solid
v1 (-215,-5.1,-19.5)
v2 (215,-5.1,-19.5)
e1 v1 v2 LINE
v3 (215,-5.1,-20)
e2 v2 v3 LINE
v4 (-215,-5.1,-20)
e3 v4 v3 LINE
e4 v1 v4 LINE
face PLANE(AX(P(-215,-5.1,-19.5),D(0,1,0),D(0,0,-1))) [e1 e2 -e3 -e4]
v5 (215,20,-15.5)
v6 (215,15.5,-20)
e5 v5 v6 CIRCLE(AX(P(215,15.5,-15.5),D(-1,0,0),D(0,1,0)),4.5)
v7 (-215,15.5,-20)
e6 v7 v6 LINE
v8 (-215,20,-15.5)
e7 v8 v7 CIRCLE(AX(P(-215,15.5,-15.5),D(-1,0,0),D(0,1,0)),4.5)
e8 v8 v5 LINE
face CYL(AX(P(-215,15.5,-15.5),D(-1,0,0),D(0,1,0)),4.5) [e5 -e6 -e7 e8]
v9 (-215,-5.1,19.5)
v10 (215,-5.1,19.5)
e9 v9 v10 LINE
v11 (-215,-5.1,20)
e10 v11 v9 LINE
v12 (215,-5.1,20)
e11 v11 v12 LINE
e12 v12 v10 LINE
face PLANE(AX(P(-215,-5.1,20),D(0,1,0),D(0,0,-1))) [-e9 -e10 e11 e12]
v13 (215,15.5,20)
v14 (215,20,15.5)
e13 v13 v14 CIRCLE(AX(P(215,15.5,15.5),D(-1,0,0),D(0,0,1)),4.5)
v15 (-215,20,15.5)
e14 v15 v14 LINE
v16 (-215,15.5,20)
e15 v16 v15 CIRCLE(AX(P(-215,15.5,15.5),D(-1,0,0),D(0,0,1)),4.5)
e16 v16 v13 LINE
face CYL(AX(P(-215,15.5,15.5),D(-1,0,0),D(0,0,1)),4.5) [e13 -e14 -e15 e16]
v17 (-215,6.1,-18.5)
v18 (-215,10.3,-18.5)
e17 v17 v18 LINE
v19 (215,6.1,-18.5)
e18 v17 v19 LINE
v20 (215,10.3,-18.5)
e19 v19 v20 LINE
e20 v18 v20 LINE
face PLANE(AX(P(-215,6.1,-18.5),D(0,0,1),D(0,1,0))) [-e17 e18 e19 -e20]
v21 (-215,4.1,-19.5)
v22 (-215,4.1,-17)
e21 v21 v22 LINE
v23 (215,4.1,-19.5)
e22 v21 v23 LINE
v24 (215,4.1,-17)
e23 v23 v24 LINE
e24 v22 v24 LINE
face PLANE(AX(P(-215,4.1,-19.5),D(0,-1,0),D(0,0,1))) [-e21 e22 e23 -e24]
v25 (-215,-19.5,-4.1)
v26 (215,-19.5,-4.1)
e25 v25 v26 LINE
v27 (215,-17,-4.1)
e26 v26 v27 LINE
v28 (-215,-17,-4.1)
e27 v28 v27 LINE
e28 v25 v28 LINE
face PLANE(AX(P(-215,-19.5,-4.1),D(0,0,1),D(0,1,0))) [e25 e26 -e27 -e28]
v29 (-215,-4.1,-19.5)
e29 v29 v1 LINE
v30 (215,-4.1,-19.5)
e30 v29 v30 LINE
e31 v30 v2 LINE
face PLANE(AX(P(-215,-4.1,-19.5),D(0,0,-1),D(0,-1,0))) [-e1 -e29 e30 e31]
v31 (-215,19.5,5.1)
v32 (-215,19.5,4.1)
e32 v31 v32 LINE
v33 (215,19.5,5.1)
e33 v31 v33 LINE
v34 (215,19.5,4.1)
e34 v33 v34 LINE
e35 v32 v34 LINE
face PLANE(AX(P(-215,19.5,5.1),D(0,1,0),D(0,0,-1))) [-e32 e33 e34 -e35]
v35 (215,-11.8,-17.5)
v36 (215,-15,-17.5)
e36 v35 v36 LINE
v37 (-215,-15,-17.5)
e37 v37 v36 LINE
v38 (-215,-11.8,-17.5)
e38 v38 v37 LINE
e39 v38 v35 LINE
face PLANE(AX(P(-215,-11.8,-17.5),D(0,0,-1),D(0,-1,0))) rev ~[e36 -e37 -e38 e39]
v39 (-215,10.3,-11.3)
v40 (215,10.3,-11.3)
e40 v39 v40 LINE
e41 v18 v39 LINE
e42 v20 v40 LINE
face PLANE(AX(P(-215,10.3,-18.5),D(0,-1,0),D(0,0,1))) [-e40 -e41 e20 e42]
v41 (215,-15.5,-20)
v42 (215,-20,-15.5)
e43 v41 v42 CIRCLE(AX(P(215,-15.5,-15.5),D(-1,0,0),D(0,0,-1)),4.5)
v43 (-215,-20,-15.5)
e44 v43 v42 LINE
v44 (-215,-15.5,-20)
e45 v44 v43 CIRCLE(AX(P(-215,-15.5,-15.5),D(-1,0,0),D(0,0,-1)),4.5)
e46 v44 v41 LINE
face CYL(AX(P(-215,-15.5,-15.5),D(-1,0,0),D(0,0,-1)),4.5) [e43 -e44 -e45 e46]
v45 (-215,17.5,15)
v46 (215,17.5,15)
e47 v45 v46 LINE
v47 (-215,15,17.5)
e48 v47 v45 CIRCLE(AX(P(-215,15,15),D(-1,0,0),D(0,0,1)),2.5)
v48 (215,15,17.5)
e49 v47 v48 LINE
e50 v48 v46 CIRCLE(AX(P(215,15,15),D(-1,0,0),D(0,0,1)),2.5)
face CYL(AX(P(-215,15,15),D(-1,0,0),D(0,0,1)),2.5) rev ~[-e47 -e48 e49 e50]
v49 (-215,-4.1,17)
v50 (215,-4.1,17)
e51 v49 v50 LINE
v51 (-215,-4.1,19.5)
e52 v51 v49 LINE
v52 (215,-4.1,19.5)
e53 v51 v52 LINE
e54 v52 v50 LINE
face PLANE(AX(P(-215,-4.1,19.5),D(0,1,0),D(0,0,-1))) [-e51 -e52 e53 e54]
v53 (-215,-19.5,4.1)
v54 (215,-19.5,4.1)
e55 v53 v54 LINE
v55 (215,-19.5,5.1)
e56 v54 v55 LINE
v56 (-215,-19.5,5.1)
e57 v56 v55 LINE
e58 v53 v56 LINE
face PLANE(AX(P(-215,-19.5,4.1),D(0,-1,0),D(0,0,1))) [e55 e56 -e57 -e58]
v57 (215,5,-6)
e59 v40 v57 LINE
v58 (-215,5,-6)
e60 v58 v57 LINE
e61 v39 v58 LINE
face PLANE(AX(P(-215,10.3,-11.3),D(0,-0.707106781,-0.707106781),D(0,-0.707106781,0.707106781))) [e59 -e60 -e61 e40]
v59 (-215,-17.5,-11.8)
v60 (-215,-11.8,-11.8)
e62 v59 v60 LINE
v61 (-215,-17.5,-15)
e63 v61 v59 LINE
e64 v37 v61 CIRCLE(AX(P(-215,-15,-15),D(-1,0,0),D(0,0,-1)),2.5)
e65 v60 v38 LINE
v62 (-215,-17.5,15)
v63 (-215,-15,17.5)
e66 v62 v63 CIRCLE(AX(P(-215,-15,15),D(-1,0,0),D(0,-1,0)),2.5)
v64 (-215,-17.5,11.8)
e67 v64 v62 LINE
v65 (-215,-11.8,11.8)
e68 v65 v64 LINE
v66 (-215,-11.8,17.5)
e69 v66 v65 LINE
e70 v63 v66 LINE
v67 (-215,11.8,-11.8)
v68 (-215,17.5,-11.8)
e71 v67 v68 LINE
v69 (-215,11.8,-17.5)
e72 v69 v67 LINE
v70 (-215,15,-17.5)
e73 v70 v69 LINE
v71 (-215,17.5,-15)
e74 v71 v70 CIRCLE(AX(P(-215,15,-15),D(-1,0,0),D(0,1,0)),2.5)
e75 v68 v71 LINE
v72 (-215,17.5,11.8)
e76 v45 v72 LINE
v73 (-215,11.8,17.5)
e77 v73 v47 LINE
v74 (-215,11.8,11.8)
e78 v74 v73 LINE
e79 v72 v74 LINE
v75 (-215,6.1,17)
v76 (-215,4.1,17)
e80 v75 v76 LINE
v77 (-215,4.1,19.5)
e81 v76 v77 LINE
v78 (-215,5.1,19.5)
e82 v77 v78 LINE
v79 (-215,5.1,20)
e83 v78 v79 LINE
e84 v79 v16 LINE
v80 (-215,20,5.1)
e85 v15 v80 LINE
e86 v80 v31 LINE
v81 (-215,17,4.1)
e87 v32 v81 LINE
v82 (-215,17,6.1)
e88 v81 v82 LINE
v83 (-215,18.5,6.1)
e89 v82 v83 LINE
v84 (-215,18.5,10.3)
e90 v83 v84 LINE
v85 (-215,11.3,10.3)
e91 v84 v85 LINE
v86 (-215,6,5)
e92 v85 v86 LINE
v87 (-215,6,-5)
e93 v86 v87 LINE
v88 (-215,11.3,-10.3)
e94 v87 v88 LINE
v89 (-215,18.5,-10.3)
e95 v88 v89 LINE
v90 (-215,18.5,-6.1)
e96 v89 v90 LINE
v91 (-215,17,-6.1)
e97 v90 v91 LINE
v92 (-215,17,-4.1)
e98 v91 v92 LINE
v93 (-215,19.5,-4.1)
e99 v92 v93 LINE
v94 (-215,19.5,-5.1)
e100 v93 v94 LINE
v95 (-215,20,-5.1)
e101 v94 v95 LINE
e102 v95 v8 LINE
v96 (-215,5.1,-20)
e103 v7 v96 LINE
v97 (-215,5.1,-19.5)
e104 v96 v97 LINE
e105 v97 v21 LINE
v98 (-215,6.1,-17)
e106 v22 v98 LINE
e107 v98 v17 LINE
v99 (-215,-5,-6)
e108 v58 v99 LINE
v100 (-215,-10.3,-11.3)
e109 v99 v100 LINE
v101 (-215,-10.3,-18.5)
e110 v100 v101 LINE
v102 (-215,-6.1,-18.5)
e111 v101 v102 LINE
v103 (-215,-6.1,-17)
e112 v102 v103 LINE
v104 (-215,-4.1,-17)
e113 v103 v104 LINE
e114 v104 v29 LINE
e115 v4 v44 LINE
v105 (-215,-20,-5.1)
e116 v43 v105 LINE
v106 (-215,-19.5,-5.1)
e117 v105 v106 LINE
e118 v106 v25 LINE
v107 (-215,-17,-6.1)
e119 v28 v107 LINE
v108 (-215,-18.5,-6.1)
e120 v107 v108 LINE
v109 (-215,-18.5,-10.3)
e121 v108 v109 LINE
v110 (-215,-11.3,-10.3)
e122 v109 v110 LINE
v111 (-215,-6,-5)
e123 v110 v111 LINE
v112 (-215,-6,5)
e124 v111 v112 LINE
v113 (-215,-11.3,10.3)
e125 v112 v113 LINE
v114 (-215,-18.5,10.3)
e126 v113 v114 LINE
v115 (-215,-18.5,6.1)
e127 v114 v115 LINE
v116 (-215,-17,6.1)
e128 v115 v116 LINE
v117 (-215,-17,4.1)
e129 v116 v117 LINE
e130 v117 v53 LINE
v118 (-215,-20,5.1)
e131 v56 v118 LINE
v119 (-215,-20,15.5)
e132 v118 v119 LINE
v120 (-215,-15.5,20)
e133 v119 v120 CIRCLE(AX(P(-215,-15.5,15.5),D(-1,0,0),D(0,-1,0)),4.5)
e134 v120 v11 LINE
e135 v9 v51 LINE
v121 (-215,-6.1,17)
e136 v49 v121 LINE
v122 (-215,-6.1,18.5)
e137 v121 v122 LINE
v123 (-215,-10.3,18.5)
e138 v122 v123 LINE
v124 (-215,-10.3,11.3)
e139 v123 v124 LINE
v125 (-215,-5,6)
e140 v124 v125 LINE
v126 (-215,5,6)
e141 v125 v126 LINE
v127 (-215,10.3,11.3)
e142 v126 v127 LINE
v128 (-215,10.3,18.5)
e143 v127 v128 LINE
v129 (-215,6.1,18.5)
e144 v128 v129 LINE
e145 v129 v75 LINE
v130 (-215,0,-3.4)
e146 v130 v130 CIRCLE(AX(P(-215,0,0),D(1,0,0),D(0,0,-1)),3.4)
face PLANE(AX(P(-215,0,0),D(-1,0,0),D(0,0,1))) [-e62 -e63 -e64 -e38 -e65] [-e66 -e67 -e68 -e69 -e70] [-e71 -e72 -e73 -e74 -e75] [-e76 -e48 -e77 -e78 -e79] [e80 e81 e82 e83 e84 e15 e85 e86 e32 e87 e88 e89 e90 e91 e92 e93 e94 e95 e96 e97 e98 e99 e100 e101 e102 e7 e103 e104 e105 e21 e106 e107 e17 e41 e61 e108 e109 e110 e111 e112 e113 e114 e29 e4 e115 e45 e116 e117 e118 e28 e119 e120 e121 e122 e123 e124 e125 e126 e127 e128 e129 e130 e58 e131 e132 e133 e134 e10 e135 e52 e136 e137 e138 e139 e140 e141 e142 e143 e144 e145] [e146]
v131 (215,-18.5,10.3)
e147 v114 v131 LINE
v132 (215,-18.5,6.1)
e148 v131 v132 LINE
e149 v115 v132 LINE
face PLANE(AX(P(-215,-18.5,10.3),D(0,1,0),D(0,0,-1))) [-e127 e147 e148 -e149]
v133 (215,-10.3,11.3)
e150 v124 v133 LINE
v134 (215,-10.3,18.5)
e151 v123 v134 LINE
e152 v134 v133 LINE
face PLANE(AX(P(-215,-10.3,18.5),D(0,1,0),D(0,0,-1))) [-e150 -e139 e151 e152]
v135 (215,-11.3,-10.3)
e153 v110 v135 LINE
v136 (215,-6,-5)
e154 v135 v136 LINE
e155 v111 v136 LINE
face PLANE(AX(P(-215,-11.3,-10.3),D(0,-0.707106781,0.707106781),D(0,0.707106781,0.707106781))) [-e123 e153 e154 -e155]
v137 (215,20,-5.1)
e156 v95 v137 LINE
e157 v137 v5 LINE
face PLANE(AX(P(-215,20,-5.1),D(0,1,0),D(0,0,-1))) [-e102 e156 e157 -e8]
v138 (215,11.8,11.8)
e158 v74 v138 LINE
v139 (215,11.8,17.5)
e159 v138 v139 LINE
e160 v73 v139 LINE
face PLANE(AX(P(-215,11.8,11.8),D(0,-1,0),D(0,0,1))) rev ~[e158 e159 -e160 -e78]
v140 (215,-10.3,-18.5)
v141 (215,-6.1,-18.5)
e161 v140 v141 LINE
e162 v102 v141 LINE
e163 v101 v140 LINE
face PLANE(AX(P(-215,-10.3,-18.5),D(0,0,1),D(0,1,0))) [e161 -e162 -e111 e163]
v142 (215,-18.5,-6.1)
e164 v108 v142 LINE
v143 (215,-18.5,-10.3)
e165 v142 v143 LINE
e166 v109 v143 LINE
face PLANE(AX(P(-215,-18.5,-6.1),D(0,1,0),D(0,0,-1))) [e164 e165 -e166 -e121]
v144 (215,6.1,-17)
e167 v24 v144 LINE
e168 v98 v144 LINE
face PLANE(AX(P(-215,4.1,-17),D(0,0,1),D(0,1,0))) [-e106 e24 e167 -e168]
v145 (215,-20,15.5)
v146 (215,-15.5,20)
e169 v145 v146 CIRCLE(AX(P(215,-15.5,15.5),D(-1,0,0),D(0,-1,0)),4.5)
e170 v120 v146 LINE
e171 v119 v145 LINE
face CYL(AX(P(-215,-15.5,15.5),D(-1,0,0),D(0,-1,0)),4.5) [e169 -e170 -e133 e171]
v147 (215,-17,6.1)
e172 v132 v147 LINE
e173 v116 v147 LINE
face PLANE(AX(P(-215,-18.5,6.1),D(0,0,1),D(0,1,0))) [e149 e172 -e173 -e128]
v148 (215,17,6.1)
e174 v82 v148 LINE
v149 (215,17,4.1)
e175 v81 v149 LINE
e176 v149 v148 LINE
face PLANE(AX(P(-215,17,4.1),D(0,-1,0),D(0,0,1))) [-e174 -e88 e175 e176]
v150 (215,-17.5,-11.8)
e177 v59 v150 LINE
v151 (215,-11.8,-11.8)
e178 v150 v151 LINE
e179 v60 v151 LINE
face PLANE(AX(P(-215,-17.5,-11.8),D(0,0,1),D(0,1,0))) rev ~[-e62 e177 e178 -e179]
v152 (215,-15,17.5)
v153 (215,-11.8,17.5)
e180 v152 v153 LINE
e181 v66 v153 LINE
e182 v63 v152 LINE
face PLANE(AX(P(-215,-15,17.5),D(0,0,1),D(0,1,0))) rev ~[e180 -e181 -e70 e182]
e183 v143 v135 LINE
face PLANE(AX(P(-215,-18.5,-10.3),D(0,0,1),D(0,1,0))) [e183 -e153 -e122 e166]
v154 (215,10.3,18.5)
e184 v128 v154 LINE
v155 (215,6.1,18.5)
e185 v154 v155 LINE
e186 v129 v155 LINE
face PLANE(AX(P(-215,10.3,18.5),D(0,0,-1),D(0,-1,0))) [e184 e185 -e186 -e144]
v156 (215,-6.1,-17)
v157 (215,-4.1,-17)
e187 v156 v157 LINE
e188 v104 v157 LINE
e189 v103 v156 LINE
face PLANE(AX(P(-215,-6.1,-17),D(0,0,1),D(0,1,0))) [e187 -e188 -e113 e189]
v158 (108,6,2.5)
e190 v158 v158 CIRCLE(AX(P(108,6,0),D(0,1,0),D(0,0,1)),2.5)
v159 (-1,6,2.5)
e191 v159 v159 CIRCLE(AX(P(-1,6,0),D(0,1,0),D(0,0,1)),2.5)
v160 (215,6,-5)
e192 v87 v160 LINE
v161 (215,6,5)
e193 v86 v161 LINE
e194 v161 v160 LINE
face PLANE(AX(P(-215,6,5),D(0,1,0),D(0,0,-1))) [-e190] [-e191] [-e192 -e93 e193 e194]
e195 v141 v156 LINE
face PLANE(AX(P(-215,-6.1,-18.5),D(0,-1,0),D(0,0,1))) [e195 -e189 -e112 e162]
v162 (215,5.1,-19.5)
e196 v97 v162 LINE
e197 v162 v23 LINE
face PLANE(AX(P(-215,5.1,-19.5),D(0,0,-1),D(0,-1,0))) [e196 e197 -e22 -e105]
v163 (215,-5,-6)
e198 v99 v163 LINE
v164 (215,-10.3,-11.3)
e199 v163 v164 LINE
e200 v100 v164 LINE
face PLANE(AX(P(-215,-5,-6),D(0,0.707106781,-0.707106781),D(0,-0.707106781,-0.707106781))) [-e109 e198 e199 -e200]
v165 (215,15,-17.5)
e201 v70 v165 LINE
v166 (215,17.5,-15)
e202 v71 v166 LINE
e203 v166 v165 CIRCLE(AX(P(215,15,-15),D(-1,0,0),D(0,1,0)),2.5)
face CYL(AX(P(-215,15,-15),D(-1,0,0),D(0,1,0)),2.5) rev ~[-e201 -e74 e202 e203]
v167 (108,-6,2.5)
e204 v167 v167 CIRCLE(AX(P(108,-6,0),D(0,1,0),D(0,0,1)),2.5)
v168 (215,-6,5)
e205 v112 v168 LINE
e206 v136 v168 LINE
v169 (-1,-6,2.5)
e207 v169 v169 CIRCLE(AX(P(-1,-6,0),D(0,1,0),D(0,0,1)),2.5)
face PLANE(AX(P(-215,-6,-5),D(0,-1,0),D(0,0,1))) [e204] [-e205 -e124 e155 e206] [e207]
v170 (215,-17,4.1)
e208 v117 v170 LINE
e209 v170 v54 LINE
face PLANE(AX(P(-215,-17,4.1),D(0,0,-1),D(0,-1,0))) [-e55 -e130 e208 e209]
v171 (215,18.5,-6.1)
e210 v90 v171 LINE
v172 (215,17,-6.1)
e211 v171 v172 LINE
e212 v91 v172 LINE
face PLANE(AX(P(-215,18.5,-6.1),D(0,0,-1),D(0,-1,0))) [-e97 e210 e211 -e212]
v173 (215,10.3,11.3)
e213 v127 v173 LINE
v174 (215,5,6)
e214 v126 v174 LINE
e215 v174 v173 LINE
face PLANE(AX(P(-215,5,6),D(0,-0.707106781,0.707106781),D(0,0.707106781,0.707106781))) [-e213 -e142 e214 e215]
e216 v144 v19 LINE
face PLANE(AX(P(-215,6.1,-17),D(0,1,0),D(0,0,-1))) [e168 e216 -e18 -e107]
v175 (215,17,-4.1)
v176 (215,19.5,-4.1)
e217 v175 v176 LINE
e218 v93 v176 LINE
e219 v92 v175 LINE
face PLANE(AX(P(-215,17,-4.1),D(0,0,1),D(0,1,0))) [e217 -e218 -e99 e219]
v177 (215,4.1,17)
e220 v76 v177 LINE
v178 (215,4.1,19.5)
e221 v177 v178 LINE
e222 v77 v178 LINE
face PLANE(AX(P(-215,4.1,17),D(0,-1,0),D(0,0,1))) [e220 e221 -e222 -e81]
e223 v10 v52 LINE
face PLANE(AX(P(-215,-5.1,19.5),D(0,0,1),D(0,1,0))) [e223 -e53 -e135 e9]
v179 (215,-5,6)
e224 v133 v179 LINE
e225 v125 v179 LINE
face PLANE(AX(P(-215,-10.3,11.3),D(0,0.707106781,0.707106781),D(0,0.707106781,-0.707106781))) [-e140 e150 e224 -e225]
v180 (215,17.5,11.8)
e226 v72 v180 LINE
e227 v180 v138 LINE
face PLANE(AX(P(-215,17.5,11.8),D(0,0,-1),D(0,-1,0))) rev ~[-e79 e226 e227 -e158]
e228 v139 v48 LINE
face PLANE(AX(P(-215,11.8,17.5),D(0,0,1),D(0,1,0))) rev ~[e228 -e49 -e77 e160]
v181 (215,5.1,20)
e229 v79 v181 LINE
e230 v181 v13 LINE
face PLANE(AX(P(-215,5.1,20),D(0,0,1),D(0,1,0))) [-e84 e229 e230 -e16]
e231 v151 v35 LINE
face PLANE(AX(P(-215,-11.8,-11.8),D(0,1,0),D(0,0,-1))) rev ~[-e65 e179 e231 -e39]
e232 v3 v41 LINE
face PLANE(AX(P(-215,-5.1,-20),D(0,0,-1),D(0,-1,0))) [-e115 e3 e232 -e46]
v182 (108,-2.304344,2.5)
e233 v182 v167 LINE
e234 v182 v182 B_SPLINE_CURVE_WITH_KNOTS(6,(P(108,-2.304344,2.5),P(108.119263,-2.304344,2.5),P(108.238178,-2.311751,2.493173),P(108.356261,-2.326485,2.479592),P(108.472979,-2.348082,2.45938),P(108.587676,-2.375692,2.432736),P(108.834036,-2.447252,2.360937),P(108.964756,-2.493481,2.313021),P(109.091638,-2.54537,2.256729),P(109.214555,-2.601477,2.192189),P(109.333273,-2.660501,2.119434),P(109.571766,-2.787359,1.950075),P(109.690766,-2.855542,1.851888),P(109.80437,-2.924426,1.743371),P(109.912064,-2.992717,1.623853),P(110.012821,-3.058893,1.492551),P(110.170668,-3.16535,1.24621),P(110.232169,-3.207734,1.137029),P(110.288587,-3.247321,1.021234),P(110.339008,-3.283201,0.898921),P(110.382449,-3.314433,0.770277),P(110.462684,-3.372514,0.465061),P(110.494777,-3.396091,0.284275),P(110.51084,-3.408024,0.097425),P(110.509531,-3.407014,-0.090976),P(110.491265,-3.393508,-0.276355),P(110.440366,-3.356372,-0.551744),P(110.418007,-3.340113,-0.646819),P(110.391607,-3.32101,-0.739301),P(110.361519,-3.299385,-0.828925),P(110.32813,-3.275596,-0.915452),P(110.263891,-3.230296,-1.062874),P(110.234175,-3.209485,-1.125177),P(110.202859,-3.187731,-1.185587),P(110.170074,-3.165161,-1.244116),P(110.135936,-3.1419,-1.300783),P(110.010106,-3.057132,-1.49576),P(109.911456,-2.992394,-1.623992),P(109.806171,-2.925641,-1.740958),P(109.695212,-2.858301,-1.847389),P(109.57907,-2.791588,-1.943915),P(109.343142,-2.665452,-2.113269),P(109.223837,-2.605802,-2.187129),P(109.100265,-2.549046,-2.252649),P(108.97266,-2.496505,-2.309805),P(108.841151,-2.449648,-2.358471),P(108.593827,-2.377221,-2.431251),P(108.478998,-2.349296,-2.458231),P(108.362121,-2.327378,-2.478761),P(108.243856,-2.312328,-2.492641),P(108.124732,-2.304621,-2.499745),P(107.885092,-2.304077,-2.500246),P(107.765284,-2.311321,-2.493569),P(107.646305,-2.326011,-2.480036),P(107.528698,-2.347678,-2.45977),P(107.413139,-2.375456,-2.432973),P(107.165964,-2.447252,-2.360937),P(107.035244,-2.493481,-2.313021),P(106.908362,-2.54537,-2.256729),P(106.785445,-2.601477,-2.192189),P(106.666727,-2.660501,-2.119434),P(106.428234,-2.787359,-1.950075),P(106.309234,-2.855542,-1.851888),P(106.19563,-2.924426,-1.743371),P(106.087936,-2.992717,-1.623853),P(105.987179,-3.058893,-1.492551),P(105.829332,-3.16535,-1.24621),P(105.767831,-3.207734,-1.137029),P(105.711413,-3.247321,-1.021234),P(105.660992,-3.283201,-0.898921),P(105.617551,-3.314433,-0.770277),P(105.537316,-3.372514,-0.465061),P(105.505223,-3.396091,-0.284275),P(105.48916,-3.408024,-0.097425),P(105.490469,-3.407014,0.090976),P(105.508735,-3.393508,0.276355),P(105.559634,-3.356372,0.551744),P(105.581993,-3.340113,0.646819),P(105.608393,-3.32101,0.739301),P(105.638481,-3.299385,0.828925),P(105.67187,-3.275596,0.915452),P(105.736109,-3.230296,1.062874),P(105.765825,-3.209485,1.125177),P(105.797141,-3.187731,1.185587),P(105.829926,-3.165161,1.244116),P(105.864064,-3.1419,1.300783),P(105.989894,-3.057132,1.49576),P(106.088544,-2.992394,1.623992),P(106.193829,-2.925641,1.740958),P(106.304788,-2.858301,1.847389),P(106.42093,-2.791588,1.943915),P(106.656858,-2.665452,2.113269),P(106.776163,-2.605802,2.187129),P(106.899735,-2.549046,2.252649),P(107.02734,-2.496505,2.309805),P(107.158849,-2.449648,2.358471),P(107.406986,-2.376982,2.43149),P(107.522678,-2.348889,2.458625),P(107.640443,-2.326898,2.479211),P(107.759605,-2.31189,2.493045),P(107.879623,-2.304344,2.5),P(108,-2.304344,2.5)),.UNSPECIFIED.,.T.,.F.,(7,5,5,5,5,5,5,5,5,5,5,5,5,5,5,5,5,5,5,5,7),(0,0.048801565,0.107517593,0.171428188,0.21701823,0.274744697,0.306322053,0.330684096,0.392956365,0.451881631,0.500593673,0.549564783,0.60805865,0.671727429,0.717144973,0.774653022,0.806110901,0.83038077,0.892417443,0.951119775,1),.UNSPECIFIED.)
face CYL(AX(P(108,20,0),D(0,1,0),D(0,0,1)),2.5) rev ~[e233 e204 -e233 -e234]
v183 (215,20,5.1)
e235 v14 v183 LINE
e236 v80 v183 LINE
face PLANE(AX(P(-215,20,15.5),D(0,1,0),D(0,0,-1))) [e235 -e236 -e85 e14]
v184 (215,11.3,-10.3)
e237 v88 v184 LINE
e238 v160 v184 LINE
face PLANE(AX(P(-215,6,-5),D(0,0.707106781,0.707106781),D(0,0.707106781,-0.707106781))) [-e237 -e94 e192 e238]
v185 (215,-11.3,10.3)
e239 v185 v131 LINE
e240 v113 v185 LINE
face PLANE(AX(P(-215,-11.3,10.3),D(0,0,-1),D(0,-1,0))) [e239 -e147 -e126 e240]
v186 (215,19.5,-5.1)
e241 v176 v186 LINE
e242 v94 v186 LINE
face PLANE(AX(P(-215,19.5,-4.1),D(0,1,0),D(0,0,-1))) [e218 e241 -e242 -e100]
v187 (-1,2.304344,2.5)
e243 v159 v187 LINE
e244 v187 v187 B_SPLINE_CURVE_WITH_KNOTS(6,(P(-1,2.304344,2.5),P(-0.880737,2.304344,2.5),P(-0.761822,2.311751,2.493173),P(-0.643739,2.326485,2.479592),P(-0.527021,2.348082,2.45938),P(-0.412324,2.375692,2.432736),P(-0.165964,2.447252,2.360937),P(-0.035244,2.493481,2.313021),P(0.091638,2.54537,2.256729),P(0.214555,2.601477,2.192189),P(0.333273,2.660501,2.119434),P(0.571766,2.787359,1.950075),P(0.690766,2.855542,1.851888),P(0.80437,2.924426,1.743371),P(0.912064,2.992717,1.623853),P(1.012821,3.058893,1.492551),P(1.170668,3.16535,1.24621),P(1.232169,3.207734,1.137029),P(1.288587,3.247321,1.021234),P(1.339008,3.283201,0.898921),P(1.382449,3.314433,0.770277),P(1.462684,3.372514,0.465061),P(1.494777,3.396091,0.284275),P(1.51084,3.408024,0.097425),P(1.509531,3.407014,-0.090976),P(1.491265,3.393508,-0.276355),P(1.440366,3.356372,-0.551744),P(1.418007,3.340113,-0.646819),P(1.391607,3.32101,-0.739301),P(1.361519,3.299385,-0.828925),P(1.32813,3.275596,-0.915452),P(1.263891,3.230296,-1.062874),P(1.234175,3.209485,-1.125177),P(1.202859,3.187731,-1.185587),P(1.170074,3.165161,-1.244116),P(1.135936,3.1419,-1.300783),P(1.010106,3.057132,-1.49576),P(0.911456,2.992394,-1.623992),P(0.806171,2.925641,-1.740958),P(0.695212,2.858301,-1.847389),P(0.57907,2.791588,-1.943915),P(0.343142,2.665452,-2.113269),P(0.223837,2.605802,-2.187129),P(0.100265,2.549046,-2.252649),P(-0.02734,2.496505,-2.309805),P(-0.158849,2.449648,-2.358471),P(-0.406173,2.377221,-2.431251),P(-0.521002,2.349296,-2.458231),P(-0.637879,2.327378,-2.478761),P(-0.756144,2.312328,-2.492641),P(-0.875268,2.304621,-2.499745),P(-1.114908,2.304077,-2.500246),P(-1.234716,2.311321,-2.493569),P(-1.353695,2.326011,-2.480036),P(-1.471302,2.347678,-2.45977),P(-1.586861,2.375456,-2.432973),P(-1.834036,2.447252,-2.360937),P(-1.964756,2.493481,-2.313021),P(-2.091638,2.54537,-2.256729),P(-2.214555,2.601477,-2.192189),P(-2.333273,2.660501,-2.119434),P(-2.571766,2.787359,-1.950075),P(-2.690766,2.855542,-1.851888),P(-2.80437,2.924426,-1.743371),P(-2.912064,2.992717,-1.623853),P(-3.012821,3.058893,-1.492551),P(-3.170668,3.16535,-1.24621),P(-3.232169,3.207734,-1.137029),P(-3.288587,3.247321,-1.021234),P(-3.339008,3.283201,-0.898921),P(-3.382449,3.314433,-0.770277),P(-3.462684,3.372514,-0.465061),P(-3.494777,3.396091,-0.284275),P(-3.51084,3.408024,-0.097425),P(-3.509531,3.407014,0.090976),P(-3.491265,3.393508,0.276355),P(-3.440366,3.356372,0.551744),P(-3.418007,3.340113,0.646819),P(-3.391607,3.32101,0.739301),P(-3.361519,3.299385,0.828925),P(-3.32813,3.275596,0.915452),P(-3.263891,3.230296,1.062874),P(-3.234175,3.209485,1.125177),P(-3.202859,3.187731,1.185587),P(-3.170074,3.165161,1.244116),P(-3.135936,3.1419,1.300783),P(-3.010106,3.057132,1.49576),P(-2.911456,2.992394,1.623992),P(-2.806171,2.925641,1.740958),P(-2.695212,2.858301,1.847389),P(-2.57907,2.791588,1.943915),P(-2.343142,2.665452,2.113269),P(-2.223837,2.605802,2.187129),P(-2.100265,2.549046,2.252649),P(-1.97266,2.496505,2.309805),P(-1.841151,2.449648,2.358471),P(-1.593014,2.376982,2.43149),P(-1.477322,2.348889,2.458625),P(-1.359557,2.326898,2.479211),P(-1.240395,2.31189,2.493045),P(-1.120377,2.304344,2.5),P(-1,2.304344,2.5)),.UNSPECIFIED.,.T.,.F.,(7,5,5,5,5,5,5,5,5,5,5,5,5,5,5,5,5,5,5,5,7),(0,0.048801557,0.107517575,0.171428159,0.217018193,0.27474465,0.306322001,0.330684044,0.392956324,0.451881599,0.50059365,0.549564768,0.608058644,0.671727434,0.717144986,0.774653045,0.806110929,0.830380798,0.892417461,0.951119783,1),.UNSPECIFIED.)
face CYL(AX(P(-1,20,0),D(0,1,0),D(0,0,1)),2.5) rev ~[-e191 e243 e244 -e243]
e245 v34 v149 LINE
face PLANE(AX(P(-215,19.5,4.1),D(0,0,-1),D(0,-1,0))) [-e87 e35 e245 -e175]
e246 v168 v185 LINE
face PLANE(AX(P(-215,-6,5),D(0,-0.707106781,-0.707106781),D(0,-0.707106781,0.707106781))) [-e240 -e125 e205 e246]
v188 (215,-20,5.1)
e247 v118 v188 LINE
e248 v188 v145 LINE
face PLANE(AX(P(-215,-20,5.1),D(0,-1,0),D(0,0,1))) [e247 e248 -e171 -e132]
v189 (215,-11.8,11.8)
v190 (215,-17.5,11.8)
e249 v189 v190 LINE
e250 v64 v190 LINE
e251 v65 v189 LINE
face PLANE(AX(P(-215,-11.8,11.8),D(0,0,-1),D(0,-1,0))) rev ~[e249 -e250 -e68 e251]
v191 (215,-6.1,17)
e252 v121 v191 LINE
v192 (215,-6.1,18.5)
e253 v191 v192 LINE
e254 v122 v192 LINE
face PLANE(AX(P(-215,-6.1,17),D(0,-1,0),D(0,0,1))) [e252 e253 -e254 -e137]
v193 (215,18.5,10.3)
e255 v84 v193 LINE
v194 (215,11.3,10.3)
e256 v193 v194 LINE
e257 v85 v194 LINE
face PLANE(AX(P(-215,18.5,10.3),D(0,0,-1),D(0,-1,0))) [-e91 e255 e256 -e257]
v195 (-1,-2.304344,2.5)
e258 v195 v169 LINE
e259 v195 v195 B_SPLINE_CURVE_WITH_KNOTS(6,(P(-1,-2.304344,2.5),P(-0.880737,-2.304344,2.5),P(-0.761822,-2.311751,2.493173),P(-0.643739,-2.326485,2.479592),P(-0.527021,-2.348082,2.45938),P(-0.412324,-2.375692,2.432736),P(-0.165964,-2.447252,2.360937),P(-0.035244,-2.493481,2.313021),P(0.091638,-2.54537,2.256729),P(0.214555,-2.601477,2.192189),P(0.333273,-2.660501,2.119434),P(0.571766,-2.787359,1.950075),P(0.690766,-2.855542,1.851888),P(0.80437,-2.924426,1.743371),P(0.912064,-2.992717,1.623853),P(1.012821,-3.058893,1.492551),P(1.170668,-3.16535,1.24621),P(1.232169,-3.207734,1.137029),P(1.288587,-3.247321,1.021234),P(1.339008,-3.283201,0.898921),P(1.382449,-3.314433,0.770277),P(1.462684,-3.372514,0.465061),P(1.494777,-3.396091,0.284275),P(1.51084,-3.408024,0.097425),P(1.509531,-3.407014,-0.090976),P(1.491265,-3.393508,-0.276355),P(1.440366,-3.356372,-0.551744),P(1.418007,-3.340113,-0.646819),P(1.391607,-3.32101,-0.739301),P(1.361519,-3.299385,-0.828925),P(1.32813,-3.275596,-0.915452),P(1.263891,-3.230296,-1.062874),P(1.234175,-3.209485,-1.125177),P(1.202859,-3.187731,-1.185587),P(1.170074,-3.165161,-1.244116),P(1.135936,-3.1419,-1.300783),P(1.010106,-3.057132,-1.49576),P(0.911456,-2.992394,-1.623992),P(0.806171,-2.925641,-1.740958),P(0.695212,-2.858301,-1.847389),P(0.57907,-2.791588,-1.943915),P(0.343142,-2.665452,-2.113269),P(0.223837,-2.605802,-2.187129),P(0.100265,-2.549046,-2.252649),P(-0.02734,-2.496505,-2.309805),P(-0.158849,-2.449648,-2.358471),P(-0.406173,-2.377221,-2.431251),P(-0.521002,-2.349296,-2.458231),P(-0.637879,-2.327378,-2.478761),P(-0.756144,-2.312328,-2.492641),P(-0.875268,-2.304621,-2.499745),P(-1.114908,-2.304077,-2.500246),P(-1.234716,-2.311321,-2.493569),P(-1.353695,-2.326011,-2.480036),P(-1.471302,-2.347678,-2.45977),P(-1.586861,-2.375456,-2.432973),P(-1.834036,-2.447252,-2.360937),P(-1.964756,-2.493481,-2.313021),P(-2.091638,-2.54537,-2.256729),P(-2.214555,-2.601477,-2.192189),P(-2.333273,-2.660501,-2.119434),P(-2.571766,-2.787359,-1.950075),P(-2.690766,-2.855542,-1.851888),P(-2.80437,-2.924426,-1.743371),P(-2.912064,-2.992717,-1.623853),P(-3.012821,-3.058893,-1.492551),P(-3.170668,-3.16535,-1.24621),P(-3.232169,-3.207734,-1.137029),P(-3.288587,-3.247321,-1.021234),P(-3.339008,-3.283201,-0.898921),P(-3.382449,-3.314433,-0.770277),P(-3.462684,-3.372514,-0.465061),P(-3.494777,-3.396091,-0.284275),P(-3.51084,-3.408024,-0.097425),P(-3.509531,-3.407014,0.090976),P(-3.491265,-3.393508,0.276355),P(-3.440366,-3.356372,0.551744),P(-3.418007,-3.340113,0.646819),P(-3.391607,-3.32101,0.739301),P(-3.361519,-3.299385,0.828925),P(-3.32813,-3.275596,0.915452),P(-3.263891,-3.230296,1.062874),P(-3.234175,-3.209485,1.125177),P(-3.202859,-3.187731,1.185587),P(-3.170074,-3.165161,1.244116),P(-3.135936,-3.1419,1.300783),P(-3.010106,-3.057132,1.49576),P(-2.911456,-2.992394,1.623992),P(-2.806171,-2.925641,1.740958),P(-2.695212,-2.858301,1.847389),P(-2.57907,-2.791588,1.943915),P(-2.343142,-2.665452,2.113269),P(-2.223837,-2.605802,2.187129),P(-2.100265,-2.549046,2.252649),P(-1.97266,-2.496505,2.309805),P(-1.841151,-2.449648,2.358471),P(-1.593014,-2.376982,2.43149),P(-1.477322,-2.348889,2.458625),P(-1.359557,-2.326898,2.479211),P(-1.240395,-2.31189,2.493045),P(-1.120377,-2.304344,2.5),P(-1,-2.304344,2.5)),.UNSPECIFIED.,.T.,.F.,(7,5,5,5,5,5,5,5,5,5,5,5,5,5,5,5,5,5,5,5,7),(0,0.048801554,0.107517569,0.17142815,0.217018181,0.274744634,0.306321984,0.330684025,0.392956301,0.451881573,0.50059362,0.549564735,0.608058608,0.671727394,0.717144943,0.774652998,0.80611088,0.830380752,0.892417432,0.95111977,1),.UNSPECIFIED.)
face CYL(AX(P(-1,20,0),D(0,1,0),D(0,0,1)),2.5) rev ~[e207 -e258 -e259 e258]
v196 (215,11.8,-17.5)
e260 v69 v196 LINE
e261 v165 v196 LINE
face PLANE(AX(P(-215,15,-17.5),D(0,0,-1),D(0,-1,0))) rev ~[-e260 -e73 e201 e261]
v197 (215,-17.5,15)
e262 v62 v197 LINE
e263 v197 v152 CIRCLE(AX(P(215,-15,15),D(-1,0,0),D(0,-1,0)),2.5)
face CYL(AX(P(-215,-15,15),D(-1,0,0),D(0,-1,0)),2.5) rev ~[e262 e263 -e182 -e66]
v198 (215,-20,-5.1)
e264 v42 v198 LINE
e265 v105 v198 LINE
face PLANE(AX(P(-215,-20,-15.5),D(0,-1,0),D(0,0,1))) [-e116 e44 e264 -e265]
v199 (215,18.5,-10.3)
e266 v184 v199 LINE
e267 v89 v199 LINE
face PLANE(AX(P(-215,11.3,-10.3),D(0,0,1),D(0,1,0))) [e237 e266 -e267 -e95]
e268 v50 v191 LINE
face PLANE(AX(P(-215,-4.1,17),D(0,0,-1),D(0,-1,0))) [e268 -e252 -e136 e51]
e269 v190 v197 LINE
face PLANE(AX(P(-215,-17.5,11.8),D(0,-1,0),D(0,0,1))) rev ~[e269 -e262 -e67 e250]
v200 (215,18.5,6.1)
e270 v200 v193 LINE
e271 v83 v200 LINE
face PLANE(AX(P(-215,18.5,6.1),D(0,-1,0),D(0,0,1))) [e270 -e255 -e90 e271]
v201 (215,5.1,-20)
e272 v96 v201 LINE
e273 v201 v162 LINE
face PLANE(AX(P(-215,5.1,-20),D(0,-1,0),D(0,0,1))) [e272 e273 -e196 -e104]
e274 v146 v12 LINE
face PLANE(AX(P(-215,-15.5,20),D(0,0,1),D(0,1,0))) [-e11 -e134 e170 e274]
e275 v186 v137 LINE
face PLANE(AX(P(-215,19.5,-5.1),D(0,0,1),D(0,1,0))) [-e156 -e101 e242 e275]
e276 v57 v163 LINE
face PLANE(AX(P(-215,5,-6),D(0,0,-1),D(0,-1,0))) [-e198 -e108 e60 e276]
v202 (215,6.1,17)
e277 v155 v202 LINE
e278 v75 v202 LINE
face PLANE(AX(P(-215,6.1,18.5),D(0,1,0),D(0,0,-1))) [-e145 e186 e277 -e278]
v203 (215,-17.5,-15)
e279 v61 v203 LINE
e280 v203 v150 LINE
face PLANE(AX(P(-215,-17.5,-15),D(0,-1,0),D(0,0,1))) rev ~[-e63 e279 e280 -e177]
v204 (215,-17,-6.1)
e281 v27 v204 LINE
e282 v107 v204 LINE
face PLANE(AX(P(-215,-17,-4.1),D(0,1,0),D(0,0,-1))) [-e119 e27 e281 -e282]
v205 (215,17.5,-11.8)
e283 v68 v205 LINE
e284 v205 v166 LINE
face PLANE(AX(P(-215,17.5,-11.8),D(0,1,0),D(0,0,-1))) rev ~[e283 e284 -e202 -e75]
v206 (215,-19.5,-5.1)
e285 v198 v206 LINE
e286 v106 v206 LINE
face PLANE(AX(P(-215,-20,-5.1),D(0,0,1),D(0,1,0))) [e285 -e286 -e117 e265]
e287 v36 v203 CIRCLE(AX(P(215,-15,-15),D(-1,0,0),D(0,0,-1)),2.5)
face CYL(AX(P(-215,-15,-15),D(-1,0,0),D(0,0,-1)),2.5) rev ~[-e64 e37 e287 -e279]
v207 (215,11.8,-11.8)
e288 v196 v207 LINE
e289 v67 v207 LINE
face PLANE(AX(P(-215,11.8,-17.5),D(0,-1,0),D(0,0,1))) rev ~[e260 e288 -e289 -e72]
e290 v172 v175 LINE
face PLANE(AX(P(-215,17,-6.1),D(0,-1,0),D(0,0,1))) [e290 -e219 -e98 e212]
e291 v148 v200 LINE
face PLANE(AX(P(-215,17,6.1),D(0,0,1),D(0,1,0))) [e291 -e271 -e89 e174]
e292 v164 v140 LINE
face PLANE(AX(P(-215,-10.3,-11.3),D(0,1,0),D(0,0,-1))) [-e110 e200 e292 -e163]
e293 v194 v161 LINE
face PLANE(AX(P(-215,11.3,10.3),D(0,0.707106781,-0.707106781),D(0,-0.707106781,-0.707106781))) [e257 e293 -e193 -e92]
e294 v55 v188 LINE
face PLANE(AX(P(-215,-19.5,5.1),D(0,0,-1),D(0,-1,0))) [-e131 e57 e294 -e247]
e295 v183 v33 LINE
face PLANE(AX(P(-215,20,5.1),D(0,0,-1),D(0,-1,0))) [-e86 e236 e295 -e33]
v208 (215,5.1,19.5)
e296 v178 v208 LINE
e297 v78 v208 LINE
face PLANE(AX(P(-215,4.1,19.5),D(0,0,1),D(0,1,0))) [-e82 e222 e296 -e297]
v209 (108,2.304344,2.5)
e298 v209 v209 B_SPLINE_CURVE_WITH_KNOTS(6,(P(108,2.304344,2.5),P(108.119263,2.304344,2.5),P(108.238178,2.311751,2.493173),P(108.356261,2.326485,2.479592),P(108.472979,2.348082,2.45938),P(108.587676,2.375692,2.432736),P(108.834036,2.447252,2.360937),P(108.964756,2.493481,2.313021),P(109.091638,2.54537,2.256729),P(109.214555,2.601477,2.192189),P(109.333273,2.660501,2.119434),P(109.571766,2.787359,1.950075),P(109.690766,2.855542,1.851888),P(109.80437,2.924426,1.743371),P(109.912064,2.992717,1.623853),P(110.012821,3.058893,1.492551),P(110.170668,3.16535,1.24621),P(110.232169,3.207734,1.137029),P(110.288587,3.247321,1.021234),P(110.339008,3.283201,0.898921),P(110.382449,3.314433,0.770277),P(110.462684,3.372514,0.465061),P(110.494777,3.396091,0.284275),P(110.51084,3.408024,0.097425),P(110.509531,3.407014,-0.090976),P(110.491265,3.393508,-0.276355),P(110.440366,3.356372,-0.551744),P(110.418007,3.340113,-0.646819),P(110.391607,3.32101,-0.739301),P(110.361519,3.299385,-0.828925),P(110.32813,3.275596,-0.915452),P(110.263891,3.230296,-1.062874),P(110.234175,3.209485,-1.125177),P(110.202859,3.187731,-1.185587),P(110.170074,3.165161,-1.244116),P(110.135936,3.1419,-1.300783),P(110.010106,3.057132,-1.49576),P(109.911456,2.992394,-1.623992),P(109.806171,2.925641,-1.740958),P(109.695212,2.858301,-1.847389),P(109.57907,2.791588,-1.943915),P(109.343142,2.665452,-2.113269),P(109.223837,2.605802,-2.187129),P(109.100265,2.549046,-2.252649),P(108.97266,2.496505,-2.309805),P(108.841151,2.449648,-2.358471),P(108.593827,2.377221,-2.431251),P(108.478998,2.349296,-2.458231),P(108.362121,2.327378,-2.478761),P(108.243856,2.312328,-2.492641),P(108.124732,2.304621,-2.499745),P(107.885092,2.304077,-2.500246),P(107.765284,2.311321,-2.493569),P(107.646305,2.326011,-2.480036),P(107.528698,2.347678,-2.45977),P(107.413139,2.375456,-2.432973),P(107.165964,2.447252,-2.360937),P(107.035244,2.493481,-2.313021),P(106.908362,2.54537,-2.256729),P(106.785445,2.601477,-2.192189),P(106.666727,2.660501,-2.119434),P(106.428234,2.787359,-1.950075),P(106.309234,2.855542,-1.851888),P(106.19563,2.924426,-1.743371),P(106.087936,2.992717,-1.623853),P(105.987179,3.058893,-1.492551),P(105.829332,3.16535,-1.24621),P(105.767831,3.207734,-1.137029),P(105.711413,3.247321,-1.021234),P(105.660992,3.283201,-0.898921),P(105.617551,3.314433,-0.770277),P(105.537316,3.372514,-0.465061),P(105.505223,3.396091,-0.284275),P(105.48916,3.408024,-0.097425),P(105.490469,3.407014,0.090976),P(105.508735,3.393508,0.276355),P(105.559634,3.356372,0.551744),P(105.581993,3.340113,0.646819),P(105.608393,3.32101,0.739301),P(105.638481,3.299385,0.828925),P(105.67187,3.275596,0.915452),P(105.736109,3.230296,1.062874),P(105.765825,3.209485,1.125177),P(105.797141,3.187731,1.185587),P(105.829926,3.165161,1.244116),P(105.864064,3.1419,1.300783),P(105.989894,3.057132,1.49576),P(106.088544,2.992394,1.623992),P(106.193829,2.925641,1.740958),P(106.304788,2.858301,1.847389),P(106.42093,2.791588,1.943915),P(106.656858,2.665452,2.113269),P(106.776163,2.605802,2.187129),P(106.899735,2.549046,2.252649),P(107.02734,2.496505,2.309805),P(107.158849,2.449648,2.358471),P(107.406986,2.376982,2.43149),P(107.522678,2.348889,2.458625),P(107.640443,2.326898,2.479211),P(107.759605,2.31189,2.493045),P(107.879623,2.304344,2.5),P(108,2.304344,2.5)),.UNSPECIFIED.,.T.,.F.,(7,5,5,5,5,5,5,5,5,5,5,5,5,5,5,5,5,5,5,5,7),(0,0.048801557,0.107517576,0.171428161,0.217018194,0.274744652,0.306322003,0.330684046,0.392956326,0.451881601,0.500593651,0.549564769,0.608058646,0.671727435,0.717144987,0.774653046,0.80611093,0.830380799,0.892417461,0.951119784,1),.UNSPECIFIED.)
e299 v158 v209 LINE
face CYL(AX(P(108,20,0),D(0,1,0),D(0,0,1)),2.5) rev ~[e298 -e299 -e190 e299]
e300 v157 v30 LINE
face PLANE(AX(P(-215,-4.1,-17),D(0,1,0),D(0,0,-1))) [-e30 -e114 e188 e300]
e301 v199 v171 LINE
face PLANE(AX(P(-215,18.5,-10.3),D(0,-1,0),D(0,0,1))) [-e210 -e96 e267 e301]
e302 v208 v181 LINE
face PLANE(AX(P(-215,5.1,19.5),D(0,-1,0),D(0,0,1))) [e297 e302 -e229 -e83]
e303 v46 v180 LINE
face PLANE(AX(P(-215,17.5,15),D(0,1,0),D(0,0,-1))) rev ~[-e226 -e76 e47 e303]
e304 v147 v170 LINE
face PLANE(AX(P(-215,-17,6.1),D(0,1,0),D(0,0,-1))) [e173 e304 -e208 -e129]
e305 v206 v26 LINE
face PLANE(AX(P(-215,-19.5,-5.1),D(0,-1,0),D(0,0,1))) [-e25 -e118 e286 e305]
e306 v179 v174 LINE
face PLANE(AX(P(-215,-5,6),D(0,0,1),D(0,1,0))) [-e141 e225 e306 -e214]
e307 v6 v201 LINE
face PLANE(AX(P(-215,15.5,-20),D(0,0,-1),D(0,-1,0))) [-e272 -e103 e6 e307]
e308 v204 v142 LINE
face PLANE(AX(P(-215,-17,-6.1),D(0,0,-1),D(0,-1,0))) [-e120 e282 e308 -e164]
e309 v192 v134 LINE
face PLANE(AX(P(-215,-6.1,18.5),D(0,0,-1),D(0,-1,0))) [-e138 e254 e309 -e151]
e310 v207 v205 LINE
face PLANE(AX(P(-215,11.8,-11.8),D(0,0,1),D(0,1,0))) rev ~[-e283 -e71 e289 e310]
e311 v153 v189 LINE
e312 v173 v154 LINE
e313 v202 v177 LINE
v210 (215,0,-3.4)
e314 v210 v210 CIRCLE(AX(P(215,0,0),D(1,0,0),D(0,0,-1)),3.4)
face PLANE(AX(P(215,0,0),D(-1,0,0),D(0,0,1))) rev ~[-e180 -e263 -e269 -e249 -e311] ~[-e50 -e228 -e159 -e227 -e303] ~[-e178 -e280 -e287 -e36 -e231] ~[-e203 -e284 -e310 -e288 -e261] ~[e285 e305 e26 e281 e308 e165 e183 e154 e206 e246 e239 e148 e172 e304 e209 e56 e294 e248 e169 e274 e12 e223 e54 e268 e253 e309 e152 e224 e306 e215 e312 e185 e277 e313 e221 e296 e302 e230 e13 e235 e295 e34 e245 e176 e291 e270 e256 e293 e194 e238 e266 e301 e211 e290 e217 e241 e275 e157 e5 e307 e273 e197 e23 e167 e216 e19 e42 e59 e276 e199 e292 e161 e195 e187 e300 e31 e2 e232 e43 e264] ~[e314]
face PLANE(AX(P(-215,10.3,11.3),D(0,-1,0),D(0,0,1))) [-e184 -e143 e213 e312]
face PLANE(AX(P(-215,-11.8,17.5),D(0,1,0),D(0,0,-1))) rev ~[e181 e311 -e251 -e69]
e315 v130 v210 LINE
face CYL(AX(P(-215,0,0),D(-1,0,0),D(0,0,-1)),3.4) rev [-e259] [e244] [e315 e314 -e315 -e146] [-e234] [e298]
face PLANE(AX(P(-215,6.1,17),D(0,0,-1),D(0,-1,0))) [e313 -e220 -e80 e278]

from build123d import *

# Parameters (mm, degrees)
SKETCH1_R                 = 3.4
F_40_X_40L_X_R4_5_1_DEPTH = 430
SKETCH_2_R                = 2.5
CUT_EXTRUDE_1_DEPTH       = 220.60191256


with BuildPart() as part:
    # Sketch1 → 铝型材 40 X 40L X R4.5(1) (new body)
    with BuildSketch(Plane(origin=(-215, 0, 0), x_dir=(0, 0, -1), z_dir=(1, 0, 0))):
        with BuildLine():
            Line((-5.1, 20), (-5.1, 19.5))
            Line((-5.1, 19.5), (-4.1, 19.5))
            Line((-4.1, 19.5), (-4.1, 17))
            Line((-4.1, 17), (-6.1, 17))
            Line((-6.1, 17), (-6.1, 18.5))
            Line((-6.1, 18.5), (-10.3, 18.5))
            Line((-10.3, 18.5), (-10.3, 11.3))
            Line((-10.3, 11.3), (-5, 6))
            Line((-5, 6), (5, 6))
            Line((5, 6), (10.3, 11.3))
            Line((10.3, 11.3), (10.3, 18.5))
            Line((10.3, 18.5), (6.1, 18.5))
            Line((6.1, 18.5), (6.1, 17))
            Line((6.1, 17), (4.1, 17))
            Line((4.1, 17), (4.1, 19.5))
            Line((4.1, 19.5), (5.1, 19.5))
            Line((5.1, 19.5), (5.1, 20))
            Line((5.1, 20), (15.5, 20))
            ThreePointArc((15.5, 20), (18.681980515, 18.681980515), (20, 15.5))
            Line((20, 15.5), (20, 5.1))
            Line((20, 5.1), (19.5, 5.1))
            Line((19.5, 5.1), (19.5, 4.1))
            Line((19.5, 4.1), (17, 4.1))
            Line((17, 4.1), (17, 6.1))
            Line((17, 6.1), (18.5, 6.1))
            Line((18.5, 6.1), (18.5, 10.3))
            Line((18.5, 10.3), (11.3, 10.3))
            Line((11.3, 10.3), (6, 5))
            Line((6, 5), (6, -5))
            Line((6, -5), (11.3, -10.3))
            Line((11.3, -10.3), (18.5, -10.3))
            Line((18.5, -10.3), (18.5, -6.1))
            Line((18.5, -6.1), (17, -6.1))
            Line((17, -6.1), (17, -4.1))
            Line((17, -4.1), (19.5, -4.1))
            Line((19.5, -4.1), (19.5, -5.1))
            Line((19.5, -5.1), (20, -5.1))
            Line((20, -5.1), (20, -15.5))
            ThreePointArc((20, -15.5), (18.681980515, -18.681980515), (15.5, -20))
            Line((15.5, -20), (5.1, -20))
            Line((5.1, -20), (5.1, -19.5))
            Line((5.1, -19.5), (4.1, -19.5))
            Line((4.1, -19.5), (4.1, -17))
            Line((4.1, -17), (6.1, -17))
            Line((6.1, -17), (6.1, -18.5))
            Line((6.1, -18.5), (10.3, -18.5))
            Line((10.3, -18.5), (10.3, -11.3))
            Line((10.3, -11.3), (5, -6))
            Line((5, -6), (-5, -6))
            Line((-5, -6), (-10.3, -11.3))
            Line((-10.3, -11.3), (-10.3, -18.5))
            Line((-10.3, -18.5), (-6.1, -18.5))
            Line((-6.1, -18.5), (-6.1, -17))
            Line((-6.1, -17), (-4.1, -17))
            Line((-4.1, -17), (-4.1, -19.5))
            Line((-4.1, -19.5), (-5.1, -19.5))
            Line((-5.1, -19.5), (-5.1, -20))
            Line((-5.1, -20), (-15.5, -20))
            ThreePointArc((-15.5, -20), (-18.681980515, -18.681980515), (-20, -15.5))
            Line((-20, -15.5), (-20, -5.1))
            Line((-20, -5.1), (-19.5, -5.1))
            Line((-19.5, -5.1), (-19.5, -4.1))
            Line((-19.5, -4.1), (-17, -4.1))
            Line((-17, -4.1), (-17, -6.1))
            Line((-17, -6.1), (-18.5, -6.1))
            Line((-18.5, -6.1), (-18.5, -10.3))
            Line((-18.5, -10.3), (-11.3, -10.3))
            Line((-11.3, -10.3), (-6, -5))
            Line((-6, -5), (-6, 5))
            Line((-6, 5), (-11.3, 10.3))
            Line((-11.3, 10.3), (-18.5, 10.3))
            Line((-18.5, 10.3), (-18.5, 6.1))
            Line((-18.5, 6.1), (-17, 6.1))
            Line((-17, 6.1), (-17, 4.1))
            Line((-17, 4.1), (-19.5, 4.1))
            Line((-19.5, 4.1), (-19.5, 5.1))
            Line((-19.5, 5.1), (-20, 5.1))
            Line((-20, 5.1), (-20, 15.5))
            ThreePointArc((-20, 15.5), (-18.681980515, 18.681980515), (-15.5, 20))
            Line((-15.5, 20), (-5.1, 20))
        make_face()
        Circle(SKETCH1_R, mode=Mode.SUBTRACT)
        with BuildLine():
            Line((11.8, 17.5), (15, 17.5))
            ThreePointArc((15, 17.5), (16.767766953, 16.767766953), (17.5, 15))
            Line((17.5, 15), (17.5, 11.8))
            Line((17.5, 11.8), (11.8, 11.8))
            Line((11.8, 11.8), (11.8, 17.5))
        make_face(mode=Mode.SUBTRACT)
        with BuildLine():
            Line((-15, 17.5), (-11.8, 17.5))
            Line((-11.8, 17.5), (-11.8, 11.8))
            Line((-11.8, 11.8), (-17.5, 11.8))
            Line((-17.5, 11.8), (-17.5, 15))
            ThreePointArc((-17.5, 15), (-16.767766953, 16.767766953), (-15, 17.5))
        make_face(mode=Mode.SUBTRACT)
        with BuildLine():
            Line((-17.5, -11.8), (-11.8, -11.8))
            Line((-11.8, -11.8), (-11.8, -17.5))
            Line((-11.8, -17.5), (-15, -17.5))
            ThreePointArc((-15, -17.5), (-16.767766953, -16.767766953), (-17.5, -15))
            Line((-17.5, -15), (-17.5, -11.8))
        make_face(mode=Mode.SUBTRACT)
        with BuildLine():
            Line((11.8, -11.8), (17.5, -11.8))
            Line((17.5, -11.8), (17.5, -15))
            ThreePointArc((17.5, -15), (16.767766953, -16.767766953), (15, -17.5))
            Line((15, -17.5), (11.8, -17.5))
            Line((11.8, -17.5), (11.8, -11.8))
        make_face(mode=Mode.SUBTRACT)
    extrude(amount=F_40_X_40L_X_R4_5_1_DEPTH)

    # 草图2 → 切除-拉伸1 (cut, through all)
    with BuildSketch(Plane(origin=(0, 20, 0), x_dir=(1, 0, 0), z_dir=(0, 1, 0))):
        with Locations(Location((-1, 0, 0), (0, 0, 270))):
            Circle(SKETCH_2_R)
        with Locations(Location((108, 0, 0), (0, 0, 270))):
            Circle(SKETCH_2_R)
    extrude(amount=-CUT_EXTRUDE_1_DEPTH, mode=Mode.SUBTRACT)


solid = part.part
